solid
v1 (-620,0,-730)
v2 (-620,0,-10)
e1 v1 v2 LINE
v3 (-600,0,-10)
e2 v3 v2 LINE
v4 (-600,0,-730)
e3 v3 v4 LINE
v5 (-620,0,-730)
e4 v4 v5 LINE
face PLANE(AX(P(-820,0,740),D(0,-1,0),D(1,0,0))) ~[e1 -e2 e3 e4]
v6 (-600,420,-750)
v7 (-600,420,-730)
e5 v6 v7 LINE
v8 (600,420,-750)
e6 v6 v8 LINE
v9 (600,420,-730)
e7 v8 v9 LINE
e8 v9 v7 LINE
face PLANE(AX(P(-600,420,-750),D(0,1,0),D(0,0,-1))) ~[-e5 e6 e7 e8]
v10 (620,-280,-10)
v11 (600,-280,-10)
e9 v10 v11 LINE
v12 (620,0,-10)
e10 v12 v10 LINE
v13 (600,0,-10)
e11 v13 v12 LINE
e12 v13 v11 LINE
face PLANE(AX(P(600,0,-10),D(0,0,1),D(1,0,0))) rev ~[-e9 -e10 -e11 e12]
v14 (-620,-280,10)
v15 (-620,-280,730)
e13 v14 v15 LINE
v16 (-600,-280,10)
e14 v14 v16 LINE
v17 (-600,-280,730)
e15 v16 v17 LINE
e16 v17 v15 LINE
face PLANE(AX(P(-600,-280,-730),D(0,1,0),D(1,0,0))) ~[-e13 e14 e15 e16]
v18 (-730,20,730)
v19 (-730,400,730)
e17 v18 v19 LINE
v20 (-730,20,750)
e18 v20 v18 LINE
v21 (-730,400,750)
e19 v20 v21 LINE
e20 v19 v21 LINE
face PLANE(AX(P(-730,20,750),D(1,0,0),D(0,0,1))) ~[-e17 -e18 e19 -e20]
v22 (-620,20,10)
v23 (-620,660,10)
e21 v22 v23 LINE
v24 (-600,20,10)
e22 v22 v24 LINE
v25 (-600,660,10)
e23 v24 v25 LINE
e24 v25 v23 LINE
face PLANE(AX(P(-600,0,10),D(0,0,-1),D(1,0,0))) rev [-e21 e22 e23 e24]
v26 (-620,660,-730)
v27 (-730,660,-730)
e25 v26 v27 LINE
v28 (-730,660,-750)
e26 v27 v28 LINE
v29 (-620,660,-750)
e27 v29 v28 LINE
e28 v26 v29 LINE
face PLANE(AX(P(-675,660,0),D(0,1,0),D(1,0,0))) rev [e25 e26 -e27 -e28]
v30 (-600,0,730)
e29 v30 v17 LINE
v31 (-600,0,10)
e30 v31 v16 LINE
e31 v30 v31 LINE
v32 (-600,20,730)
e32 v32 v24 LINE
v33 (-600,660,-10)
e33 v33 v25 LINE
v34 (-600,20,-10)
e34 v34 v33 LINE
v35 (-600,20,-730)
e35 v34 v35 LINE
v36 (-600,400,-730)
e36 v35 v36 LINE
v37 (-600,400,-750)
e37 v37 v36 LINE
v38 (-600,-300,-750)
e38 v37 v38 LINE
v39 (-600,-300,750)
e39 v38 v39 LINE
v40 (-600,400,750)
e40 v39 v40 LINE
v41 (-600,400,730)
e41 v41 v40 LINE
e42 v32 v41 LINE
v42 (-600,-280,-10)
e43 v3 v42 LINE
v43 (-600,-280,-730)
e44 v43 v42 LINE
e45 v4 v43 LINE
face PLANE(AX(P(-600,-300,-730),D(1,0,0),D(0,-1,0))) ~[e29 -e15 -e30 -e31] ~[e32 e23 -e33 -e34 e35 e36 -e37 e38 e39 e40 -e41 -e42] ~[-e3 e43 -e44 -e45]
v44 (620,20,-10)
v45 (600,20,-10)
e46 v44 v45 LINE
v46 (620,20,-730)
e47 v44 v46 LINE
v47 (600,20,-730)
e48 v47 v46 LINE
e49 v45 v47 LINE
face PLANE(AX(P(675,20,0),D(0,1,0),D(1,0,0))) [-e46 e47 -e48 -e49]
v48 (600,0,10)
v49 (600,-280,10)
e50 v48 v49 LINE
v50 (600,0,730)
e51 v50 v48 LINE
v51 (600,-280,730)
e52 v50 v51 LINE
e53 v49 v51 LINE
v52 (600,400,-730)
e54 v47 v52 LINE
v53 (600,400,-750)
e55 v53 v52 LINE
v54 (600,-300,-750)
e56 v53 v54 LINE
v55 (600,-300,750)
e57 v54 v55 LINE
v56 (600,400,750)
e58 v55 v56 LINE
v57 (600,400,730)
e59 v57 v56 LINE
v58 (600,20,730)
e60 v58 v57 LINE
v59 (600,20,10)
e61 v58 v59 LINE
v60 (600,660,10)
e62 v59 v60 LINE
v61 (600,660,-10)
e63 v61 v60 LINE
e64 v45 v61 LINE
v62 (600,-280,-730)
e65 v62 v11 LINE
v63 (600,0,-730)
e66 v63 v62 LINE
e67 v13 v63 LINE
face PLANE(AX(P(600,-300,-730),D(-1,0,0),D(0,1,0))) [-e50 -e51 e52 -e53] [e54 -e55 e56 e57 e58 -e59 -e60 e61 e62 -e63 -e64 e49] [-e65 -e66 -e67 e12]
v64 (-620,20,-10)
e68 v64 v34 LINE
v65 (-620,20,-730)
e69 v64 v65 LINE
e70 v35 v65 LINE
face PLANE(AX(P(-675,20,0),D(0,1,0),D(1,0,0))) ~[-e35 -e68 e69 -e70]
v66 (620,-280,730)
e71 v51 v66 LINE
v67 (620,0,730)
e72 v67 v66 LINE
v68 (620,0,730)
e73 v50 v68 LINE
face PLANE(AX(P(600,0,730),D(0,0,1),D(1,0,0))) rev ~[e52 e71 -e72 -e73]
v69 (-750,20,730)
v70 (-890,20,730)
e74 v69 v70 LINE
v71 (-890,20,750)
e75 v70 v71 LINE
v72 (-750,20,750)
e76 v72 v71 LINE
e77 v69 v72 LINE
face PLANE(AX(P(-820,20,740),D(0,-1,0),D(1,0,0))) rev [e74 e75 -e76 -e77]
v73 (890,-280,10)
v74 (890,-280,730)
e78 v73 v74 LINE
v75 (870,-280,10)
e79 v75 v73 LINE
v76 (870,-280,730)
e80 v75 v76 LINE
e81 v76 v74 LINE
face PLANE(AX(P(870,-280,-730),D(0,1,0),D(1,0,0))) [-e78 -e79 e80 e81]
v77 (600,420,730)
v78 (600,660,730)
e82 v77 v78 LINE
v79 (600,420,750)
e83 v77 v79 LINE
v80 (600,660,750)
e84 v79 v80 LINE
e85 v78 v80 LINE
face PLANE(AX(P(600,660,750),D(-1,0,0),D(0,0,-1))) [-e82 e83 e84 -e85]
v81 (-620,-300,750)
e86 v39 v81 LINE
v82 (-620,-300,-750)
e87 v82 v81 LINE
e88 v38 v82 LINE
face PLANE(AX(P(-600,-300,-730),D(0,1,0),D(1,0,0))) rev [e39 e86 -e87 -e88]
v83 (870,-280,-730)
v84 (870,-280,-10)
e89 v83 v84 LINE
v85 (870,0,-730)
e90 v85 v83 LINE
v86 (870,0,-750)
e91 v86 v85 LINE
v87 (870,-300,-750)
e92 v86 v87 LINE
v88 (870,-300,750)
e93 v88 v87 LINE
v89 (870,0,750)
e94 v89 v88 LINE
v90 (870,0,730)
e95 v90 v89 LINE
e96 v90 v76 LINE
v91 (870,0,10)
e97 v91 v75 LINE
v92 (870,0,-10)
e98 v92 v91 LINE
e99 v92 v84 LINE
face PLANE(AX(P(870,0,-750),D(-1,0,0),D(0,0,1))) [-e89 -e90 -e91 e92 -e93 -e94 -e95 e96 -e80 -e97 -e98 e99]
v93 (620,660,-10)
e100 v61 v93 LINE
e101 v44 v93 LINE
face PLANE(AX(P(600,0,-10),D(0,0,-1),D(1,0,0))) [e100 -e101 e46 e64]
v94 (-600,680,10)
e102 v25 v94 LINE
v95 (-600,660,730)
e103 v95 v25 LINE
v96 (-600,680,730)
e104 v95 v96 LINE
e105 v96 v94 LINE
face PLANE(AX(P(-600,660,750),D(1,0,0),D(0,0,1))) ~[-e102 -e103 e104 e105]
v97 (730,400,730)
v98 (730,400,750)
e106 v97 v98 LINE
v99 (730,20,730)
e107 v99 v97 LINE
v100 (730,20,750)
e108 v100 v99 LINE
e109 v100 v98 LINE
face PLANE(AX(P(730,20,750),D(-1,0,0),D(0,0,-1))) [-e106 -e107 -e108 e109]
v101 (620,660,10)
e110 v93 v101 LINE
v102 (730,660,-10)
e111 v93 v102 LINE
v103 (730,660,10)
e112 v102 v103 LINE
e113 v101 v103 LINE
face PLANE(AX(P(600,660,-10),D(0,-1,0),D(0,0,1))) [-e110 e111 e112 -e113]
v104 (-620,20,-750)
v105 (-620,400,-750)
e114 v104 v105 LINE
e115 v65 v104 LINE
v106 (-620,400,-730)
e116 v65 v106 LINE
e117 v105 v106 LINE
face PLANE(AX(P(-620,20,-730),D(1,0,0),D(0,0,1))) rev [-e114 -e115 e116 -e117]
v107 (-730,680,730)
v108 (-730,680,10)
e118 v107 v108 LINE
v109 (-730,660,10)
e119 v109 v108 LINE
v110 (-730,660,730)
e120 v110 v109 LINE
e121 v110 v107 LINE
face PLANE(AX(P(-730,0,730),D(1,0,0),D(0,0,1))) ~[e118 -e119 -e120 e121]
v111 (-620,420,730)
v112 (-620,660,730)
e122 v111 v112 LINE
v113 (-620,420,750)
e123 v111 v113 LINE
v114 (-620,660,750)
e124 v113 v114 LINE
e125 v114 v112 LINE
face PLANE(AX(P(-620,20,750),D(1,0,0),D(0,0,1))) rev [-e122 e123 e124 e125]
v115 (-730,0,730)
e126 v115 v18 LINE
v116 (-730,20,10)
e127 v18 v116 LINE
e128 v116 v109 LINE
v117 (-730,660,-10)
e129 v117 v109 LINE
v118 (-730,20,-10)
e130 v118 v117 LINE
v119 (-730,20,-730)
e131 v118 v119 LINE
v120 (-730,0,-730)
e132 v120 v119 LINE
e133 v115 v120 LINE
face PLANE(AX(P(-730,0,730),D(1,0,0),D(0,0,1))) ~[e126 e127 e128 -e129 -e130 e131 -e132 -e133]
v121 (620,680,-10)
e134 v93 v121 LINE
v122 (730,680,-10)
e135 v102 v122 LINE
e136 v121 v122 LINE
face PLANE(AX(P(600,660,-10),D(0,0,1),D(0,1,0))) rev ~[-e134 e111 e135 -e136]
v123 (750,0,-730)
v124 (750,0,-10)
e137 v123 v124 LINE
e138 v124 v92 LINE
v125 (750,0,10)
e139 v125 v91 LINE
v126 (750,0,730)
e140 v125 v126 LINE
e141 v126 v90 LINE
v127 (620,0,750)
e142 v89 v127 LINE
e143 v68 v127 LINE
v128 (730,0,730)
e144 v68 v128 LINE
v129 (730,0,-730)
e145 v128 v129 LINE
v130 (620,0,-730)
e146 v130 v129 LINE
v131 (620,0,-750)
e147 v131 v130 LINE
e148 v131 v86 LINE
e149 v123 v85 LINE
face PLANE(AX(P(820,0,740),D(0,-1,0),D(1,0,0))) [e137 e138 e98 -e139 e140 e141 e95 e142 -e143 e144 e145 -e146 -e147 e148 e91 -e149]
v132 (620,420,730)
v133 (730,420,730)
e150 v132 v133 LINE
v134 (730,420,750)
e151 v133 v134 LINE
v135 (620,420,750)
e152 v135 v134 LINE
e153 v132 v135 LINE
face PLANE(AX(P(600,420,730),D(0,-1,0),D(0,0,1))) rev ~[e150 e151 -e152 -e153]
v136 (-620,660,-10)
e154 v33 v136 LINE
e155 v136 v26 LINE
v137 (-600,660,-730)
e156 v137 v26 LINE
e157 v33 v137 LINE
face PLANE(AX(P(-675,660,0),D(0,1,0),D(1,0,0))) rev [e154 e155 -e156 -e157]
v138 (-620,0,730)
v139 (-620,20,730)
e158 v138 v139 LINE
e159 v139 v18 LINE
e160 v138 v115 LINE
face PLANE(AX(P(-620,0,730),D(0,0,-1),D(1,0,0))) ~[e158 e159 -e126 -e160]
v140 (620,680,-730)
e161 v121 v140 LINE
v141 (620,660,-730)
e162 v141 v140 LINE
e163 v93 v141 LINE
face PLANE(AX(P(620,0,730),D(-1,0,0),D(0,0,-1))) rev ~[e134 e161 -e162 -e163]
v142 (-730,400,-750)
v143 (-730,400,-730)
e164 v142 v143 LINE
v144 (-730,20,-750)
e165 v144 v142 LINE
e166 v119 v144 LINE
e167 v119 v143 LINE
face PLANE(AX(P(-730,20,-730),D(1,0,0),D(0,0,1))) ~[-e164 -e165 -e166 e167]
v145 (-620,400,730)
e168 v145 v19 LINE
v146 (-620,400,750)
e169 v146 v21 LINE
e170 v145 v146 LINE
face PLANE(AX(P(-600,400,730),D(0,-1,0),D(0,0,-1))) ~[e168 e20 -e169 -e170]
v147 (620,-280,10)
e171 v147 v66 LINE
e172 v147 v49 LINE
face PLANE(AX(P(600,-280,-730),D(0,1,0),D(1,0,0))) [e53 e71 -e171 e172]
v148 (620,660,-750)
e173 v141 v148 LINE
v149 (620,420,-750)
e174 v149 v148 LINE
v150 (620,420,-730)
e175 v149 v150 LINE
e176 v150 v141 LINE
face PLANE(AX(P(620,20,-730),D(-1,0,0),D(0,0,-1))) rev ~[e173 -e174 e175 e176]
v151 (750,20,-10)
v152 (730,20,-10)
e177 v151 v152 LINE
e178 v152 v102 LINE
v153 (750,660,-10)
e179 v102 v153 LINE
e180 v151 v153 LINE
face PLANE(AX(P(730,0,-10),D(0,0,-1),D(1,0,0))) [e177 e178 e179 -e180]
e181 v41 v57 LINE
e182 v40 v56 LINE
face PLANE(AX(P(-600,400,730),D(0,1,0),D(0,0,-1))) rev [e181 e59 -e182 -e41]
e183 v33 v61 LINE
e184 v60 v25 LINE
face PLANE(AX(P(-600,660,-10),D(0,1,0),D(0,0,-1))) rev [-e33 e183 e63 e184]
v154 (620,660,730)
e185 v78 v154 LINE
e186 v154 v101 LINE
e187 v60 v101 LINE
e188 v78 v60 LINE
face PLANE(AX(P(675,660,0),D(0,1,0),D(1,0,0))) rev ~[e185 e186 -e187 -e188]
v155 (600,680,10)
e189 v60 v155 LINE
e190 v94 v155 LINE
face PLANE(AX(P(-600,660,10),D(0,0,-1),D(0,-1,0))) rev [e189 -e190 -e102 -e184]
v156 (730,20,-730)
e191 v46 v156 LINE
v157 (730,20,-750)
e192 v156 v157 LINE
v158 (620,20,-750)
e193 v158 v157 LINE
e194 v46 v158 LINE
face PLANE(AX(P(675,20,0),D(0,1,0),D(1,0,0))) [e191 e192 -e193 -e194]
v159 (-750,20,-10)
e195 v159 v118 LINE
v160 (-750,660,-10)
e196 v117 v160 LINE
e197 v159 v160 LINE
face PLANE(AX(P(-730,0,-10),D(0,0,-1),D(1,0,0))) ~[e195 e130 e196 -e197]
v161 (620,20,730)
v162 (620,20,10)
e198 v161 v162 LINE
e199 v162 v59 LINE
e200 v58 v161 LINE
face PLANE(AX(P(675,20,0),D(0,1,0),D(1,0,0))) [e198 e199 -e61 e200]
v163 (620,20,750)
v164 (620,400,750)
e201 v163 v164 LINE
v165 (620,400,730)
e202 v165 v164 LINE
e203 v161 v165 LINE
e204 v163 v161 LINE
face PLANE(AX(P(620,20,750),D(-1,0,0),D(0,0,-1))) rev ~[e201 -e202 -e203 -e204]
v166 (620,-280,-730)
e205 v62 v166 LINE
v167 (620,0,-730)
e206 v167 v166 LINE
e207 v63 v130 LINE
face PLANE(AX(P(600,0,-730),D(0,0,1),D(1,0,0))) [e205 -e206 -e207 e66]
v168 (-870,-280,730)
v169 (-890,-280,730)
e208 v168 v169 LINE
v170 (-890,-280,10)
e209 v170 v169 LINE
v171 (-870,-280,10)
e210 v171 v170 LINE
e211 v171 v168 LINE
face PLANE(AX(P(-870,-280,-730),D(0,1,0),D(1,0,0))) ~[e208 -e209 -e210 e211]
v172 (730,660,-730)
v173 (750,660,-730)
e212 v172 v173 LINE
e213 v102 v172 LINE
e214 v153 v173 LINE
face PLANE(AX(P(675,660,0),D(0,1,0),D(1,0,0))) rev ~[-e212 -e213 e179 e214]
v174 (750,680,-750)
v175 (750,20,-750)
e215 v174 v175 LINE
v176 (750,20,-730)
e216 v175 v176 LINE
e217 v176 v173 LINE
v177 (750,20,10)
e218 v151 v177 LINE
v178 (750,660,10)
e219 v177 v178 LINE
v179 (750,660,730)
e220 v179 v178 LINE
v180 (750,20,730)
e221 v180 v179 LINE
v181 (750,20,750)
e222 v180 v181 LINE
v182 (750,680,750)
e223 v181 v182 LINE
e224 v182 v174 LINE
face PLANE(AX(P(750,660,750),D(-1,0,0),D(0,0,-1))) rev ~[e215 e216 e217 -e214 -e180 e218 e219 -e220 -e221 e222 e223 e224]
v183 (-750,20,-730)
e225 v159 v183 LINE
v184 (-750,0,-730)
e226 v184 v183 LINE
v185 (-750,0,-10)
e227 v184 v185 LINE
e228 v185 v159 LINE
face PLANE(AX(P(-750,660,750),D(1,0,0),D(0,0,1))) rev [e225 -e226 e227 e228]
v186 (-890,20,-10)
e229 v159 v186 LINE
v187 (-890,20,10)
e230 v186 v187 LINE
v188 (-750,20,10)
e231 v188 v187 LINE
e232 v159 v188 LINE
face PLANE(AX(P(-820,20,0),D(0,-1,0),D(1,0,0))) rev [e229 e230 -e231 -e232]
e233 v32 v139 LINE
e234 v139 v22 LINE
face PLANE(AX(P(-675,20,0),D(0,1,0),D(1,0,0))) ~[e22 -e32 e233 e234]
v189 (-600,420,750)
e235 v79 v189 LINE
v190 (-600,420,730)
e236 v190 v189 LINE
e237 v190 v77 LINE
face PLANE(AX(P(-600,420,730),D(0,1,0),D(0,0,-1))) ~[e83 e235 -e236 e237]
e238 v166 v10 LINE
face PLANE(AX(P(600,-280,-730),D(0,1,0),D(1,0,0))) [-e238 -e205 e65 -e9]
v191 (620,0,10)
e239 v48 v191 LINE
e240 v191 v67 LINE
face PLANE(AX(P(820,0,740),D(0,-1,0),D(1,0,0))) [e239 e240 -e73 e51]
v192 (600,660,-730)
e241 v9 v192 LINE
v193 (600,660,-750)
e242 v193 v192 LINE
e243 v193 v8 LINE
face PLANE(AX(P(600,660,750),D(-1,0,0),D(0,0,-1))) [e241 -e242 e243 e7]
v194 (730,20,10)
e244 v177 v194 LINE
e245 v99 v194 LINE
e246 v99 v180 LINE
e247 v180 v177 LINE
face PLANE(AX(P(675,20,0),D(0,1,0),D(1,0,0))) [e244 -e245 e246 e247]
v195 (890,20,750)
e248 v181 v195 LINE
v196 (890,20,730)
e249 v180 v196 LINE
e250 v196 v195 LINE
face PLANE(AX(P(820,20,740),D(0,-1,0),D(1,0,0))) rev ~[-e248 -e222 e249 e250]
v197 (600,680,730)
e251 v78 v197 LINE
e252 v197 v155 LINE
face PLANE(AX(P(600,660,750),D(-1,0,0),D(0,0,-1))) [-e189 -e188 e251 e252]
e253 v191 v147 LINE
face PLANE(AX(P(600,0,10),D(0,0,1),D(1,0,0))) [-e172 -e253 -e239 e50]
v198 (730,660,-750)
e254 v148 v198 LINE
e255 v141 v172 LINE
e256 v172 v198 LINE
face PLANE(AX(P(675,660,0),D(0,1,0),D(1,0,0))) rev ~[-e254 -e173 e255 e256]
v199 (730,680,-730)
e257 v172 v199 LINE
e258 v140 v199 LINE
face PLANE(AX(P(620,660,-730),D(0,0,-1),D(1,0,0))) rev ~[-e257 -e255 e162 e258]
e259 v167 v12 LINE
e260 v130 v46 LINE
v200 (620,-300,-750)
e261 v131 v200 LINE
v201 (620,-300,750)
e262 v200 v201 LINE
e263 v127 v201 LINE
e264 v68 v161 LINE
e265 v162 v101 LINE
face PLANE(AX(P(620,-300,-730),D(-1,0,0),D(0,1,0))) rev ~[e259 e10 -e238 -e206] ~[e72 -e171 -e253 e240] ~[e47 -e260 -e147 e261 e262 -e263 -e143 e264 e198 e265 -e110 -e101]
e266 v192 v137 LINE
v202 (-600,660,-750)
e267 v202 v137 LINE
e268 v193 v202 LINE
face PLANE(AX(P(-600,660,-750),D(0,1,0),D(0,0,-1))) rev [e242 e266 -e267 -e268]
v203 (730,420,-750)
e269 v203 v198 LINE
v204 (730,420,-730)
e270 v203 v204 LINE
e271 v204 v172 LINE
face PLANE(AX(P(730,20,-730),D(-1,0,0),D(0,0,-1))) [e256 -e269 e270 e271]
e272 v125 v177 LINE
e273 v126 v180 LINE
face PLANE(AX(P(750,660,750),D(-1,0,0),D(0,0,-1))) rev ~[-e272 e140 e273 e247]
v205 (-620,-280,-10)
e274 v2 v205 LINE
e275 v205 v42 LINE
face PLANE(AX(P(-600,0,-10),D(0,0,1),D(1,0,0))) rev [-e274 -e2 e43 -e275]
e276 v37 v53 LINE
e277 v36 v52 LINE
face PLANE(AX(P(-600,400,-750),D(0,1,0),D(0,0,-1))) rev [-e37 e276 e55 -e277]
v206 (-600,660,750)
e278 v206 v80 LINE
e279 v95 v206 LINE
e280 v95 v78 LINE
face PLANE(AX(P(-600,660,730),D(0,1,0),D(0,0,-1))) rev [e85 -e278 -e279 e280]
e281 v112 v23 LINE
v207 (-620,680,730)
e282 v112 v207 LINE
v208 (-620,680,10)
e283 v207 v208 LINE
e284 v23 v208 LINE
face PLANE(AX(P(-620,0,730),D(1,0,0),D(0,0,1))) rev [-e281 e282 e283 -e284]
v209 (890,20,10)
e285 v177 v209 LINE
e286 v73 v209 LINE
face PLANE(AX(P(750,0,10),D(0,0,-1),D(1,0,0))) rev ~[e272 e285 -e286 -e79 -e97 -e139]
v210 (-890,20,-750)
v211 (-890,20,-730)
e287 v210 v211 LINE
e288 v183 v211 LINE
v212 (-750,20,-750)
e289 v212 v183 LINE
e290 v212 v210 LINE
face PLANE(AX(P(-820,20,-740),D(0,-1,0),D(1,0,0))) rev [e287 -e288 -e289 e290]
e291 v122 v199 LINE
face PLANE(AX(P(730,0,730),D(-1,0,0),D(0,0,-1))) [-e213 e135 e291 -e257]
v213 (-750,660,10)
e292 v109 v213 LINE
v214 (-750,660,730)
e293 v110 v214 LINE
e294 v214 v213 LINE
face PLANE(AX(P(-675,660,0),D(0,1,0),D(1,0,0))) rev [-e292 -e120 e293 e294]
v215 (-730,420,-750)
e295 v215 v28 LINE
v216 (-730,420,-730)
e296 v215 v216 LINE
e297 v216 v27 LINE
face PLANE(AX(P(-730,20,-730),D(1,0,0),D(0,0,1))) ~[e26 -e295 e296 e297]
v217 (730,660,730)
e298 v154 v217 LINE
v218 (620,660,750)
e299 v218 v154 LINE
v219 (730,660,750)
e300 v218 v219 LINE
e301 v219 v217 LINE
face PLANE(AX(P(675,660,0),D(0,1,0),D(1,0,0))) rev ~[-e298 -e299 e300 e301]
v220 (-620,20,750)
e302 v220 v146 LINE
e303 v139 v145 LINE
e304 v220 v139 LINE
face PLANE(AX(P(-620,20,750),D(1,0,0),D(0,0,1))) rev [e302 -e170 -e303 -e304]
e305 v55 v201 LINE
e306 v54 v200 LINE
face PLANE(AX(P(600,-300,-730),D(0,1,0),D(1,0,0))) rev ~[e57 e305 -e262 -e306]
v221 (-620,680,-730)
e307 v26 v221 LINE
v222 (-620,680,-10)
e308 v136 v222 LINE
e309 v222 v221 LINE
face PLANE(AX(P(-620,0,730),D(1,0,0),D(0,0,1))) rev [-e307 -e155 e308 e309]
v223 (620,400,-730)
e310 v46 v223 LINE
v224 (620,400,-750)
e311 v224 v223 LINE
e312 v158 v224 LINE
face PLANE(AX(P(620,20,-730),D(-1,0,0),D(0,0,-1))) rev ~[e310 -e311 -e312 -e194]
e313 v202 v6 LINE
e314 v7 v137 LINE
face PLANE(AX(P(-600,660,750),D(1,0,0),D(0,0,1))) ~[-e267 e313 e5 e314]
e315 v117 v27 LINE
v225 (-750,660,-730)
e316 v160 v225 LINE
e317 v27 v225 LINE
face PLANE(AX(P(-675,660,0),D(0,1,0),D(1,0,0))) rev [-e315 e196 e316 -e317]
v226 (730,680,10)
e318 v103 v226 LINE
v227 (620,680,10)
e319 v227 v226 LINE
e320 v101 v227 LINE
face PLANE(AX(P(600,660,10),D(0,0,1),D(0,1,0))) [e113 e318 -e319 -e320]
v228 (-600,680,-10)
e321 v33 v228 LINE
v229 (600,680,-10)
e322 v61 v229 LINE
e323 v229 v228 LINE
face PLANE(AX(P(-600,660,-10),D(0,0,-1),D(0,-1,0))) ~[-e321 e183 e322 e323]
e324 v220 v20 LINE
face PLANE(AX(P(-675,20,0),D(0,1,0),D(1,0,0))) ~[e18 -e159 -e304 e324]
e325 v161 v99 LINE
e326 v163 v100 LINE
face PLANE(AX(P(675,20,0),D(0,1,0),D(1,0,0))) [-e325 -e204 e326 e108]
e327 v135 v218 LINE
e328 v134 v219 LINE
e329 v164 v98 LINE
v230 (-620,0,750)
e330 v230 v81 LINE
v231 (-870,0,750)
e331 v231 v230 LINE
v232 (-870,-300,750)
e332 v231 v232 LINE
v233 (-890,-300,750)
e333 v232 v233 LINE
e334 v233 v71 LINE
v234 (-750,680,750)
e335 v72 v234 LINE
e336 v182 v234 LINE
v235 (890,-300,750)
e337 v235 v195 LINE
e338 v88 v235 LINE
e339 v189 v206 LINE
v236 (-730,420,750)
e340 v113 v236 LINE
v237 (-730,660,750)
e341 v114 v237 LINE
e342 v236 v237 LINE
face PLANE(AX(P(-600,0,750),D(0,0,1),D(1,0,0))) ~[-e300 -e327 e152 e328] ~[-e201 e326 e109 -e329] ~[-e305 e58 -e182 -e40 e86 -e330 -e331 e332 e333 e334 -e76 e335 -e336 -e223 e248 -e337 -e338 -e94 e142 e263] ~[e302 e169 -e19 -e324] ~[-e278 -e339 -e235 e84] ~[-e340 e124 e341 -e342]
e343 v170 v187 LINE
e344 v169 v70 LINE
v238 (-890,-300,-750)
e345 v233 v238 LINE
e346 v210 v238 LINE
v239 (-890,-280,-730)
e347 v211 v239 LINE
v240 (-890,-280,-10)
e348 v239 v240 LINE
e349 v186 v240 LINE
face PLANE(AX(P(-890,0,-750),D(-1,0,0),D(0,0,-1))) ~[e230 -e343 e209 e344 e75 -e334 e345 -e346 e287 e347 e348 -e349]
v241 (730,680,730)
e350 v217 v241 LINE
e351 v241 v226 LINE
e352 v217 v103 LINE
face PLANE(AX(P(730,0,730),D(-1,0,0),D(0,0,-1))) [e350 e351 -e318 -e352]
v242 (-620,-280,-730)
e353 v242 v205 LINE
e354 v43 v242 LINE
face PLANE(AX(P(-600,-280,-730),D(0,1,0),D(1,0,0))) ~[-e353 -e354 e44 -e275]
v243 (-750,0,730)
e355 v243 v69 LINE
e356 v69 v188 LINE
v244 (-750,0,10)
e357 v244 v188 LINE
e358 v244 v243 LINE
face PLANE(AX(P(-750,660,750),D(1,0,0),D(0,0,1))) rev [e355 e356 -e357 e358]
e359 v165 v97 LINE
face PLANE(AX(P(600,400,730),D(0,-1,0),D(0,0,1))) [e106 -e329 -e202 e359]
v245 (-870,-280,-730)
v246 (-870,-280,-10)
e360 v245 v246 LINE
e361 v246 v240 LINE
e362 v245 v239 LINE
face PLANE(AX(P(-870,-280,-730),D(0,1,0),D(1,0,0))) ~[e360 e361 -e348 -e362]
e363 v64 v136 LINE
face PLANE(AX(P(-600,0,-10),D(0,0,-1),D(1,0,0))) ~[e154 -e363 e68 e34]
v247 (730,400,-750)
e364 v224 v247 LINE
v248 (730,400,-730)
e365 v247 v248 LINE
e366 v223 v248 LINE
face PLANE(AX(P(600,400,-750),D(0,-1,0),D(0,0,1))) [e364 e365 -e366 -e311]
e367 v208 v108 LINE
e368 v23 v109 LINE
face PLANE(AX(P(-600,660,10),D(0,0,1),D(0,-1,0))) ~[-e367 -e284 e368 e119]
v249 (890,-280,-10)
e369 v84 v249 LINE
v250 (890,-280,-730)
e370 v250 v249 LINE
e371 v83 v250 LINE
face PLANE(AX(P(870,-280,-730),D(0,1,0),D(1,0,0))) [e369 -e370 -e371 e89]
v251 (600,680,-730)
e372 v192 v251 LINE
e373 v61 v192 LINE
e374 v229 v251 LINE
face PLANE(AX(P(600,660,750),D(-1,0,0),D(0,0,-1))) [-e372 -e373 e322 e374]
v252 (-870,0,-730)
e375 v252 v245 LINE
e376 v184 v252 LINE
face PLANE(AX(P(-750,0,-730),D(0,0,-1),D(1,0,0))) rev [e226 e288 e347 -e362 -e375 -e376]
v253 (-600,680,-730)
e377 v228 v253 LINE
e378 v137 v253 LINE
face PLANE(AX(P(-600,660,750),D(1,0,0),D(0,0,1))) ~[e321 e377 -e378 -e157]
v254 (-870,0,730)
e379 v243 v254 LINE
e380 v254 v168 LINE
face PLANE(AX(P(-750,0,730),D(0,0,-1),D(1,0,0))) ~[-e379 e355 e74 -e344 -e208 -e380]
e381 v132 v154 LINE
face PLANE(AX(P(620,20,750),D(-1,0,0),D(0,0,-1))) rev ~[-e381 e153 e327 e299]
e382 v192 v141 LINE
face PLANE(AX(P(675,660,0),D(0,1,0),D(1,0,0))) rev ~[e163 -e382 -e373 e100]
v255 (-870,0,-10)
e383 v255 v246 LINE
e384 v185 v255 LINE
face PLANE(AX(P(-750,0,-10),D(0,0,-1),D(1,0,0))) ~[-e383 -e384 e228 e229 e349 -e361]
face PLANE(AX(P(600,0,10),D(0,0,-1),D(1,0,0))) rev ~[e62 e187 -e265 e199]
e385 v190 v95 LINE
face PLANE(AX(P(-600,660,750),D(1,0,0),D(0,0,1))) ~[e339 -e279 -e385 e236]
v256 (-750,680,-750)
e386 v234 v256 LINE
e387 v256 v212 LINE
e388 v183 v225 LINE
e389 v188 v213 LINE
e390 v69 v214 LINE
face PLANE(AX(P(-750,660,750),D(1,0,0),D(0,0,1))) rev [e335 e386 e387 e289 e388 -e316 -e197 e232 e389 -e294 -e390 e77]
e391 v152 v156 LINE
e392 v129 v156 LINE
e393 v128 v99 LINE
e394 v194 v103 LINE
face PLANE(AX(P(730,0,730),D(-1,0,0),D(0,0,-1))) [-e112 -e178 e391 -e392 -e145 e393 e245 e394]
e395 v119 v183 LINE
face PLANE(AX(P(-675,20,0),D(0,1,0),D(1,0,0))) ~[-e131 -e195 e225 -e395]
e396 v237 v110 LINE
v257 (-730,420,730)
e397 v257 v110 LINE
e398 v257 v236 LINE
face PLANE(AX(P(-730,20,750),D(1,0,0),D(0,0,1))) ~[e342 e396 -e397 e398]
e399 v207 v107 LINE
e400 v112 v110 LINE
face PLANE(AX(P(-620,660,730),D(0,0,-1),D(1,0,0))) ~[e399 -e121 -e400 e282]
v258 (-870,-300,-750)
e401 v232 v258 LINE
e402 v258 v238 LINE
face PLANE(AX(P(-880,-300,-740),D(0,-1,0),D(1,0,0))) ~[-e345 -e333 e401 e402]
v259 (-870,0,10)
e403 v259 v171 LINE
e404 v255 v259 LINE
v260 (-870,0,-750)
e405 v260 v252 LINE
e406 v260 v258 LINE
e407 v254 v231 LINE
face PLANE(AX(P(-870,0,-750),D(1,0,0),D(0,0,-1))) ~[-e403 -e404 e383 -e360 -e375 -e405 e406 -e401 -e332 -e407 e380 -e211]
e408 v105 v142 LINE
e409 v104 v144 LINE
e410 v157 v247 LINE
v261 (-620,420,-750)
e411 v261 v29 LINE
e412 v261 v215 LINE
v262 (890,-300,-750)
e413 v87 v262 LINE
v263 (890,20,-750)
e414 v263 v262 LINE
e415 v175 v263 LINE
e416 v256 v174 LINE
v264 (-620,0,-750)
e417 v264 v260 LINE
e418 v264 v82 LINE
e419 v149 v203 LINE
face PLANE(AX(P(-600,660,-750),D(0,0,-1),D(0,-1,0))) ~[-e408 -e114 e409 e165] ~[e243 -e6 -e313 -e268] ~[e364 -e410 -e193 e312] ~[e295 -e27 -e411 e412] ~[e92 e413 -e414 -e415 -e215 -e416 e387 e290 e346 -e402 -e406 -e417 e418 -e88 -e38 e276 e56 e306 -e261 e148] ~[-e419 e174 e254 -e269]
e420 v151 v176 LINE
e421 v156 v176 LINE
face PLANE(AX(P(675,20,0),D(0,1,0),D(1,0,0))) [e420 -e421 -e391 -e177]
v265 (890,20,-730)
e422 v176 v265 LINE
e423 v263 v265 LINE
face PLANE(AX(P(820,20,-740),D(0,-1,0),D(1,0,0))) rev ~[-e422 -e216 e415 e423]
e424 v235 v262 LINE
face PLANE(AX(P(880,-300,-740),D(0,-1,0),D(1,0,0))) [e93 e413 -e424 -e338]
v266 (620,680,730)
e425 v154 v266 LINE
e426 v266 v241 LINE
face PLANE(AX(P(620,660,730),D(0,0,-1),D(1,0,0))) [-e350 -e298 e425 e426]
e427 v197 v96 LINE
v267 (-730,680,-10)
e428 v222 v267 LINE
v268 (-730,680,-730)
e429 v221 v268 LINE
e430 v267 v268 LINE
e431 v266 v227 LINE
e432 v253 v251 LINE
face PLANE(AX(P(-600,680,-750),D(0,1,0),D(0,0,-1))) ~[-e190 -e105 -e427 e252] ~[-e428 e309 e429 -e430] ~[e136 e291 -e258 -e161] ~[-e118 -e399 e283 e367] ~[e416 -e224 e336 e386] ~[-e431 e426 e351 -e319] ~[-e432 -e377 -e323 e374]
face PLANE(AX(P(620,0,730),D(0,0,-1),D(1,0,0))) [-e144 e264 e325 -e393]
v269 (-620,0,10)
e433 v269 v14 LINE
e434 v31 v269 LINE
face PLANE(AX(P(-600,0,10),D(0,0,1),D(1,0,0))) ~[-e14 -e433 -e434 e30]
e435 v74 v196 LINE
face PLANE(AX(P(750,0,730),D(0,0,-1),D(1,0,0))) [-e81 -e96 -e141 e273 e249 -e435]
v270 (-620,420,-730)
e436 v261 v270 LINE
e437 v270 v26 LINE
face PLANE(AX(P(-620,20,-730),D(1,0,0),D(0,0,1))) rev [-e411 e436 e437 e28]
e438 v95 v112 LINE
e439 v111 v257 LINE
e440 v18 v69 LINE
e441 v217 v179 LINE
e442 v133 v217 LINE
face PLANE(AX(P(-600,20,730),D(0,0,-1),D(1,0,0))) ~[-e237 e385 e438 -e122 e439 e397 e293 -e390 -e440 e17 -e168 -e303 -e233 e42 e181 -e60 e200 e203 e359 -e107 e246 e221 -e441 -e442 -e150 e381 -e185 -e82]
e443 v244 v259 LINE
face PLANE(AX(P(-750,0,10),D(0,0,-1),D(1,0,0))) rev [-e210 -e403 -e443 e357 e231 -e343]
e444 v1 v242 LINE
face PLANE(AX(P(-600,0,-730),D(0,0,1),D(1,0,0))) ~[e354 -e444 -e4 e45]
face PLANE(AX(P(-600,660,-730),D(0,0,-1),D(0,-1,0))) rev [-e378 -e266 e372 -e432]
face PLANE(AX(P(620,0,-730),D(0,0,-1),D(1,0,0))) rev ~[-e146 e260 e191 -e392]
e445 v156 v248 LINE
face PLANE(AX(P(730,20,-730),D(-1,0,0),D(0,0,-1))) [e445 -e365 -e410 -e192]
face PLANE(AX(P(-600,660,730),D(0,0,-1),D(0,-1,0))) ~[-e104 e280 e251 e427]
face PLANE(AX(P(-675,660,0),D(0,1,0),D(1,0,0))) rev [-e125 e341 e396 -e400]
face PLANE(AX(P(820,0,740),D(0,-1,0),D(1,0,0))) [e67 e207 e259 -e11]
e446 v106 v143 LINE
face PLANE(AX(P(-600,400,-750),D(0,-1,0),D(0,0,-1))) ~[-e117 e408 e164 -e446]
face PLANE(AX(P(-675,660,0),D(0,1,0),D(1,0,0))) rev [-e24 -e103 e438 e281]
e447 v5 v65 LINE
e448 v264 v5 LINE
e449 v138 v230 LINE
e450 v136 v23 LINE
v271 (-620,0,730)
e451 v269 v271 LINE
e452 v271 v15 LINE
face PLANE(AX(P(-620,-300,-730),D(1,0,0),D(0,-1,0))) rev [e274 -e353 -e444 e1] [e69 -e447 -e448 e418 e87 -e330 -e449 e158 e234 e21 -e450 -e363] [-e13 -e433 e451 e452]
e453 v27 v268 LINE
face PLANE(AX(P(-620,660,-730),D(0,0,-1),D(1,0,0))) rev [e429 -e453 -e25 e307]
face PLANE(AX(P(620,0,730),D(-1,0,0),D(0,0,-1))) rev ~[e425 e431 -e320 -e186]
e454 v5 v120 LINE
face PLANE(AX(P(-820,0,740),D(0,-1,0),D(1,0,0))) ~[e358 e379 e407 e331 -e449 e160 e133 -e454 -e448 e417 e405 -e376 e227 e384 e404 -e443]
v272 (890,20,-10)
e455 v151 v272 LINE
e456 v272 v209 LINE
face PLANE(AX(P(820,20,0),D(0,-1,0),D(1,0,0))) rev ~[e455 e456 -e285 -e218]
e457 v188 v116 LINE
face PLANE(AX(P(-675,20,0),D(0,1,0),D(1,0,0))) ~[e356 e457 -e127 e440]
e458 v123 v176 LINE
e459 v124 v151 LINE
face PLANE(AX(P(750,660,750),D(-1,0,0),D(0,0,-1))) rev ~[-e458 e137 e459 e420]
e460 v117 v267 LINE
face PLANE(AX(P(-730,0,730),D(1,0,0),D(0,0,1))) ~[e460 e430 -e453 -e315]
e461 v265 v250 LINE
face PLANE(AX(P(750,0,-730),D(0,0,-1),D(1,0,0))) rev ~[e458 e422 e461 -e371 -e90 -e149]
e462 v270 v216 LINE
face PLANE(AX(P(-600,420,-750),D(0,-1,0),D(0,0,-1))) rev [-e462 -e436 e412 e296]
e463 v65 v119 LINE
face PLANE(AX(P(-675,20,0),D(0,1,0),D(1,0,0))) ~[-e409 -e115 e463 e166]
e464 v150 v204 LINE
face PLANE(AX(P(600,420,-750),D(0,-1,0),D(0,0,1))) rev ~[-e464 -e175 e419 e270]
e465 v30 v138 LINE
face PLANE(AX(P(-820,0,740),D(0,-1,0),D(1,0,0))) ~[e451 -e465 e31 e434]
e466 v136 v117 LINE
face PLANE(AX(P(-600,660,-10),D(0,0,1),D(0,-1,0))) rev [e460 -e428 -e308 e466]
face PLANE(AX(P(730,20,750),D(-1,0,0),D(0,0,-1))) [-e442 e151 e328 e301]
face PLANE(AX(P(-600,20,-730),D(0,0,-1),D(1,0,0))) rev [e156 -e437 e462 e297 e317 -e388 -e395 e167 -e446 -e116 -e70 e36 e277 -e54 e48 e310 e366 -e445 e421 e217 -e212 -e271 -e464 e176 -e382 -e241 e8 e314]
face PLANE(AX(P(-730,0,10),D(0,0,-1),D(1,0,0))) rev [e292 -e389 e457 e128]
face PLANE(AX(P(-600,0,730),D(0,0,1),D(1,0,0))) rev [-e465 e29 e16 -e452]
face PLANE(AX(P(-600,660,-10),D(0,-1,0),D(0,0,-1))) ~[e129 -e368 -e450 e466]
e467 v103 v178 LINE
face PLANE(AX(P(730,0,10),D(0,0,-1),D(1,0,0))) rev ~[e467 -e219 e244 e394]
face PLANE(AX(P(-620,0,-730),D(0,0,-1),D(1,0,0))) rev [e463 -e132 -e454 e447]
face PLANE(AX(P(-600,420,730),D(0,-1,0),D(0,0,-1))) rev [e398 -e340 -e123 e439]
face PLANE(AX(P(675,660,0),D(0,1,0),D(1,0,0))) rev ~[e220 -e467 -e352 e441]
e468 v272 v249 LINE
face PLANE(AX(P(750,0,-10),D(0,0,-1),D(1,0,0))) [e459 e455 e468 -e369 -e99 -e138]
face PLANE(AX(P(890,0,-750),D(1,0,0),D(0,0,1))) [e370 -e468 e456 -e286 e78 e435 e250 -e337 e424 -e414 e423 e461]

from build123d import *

# Parameters (mm, degrees)
SKETCH1_W                = 150
SKETCH1_H                = 1500
SKETCH1_W_2              = 110
SKETCH1_H_2              = 1460
BOSS_EXTRUDE1_DEPTH      = 20
SKETCH2_W                = 20
SKETCH2_H                = 20
BOSS_EXTRUDE2_DEPTH      = 640
SKETCH3_W                = 150
SKETCH3_H                = 1500
SKETCH3_W_2              = 110
SKETCH3_H_2              = 1460
BOSS_EXTRUDE3_DEPTH      = 20
SKETCH4_W                = 20
SKETCH4_H                = 20
BOSS_EXTRUDE4_DEPTH      = 660
SKETCH5_W                = 20
SKETCH5_H                = 20
BOSS_EXTRUDE5_DEPTH      = 600
BOSS_EXTRUDE5_DEPTH_BACK = 130
SKETCH6_W                = 140
SKETCH6_H                = 20
BOSS_EXTRUDE6_DEPTH      = 20
SKETCH7_W                = 20
SKETCH7_H                = 20
BOSS_EXTRUDE7_DEPTH      = 300
BOSS_EXTRUDE8_START      = -1480
SKETCH8_W                = 20
SKETCH8_H                = 20
BOSS_EXTRUDE8_DEPTH      = 1460


with BuildPart() as part:
    # Sketch1 → Boss-Extrude1 (new body)
    with BuildSketch(Plane(origin=(0, 0, 0), x_dir=(1, 0, 0), z_dir=(0, 1, 0))):
        with Locations((675, 0)):
            Rectangle(SKETCH1_W, SKETCH1_H)
        with Locations((675, 0)):
            Rectangle(SKETCH1_W_2, SKETCH1_H_2, mode=Mode.SUBTRACT)
    extrude(amount=BOSS_EXTRUDE1_DEPTH)

    # Sketch2 → Boss-Extrude2 (add)
    with BuildSketch(Plane(origin=(0, 20, 0), x_dir=(1, 0, 0), z_dir=(0, 1, 0))):
        with Locations((610, 740)):
            Rectangle(SKETCH2_W, SKETCH2_H)
        with Locations((740, 740)):
            Rectangle(SKETCH2_W, SKETCH2_H)
        with Locations((610, -740)):
            Rectangle(SKETCH2_W, SKETCH2_H)
        with Locations((740, -740)):
            Rectangle(SKETCH2_W, SKETCH2_H)
    extrude(amount=BOSS_EXTRUDE2_DEPTH)

    # Sketch3 → Boss-Extrude3 (add)
    with BuildSketch(Plane(origin=(0, 660, 0), x_dir=(1, 0, 0), z_dir=(0, 1, 0))):
        with Locations((675, 0)):
            Rectangle(SKETCH3_W, SKETCH3_H)
        with Locations((675, 0)):
            Rectangle(SKETCH3_W_2, SKETCH3_H_2, mode=Mode.SUBTRACT)
    extrude(amount=BOSS_EXTRUDE3_DEPTH)

    # Sketch4 → Boss-Extrude4 (add)
    with BuildSketch(Plane.XZ):
        with Locations((740, 0)):
            Rectangle(SKETCH4_W, SKETCH4_H)
        with Locations((610, 0)):
            Rectangle(SKETCH4_W, SKETCH4_H)
    extrude(amount=-BOSS_EXTRUDE4_DEPTH)

    # Sketch5 → Boss-Extrude5 (add, two sides)
    with BuildSketch(Plane.ZY.offset(-600)) as boss_extrude5_sk:
        with Locations((-740, 410)):
            Rectangle(SKETCH5_W, SKETCH5_H)
        with Locations((-740, 670)):
            Rectangle(SKETCH5_W, SKETCH5_H)
        with Locations((740, 410)):
            Rectangle(SKETCH5_W, SKETCH5_H)
        with Locations((740, 670)):
            Rectangle(SKETCH5_W, SKETCH5_H)
        with Locations((0, 670)):
            Rectangle(SKETCH5_W, SKETCH5_H)
    extrude(amount=BOSS_EXTRUDE5_DEPTH)
    extrude(boss_extrude5_sk.sketch, amount=-BOSS_EXTRUDE5_DEPTH_BACK)

    # Sketch6 → Boss-Extrude6 (add)
    with BuildSketch(Plane.XZ):
        with Locations((820, 740)):
            Rectangle(SKETCH6_W, SKETCH6_H)
        with Locations((820, 0)):
            Rectangle(SKETCH6_W, SKETCH6_H)
        with Locations((820, -740)):
            Rectangle(SKETCH6_W, SKETCH6_H)
    extrude(amount=-BOSS_EXTRUDE6_DEPTH)

    # Sketch7 → Boss-Extrude7 (add)
    with BuildSketch(Plane.XZ):
        with Locations((610, 740)):
            Rectangle(SKETCH7_W, SKETCH7_H)
        with Locations((880, 740)):
            Rectangle(SKETCH7_W, SKETCH7_H)
        with Locations((610, 0)):
            Rectangle(SKETCH7_W, SKETCH7_H)
        with Locations((610, -740)):
            Rectangle(SKETCH7_W, SKETCH7_H)
        with Locations((880, -740)):
            Rectangle(SKETCH7_W, SKETCH7_H)
        with Locations((880, 0)):
            Rectangle(SKETCH7_W, SKETCH7_H)
    extrude(amount=BOSS_EXTRUDE7_DEPTH)

    # Sketch8 → Boss-Extrude8 (add)
    with BuildSketch(Plane.XY.offset(750).offset(BOSS_EXTRUDE8_START)):
        with Locations((610, -290)):
            Rectangle(SKETCH8_W, SKETCH8_H)
        with Locations((880, -290)):
            Rectangle(SKETCH8_W, SKETCH8_H)
    extrude(amount=BOSS_EXTRUDE8_DEPTH)

    # Mirror1: part across plane


with BuildPart() as part_1:
    add(part.part)
    add(part.part.mirror(Plane(origin=(0, 0, 0), x_dir=(0, 0, 1), z_dir=(1, 0, 0))))


solid = part_1.part
